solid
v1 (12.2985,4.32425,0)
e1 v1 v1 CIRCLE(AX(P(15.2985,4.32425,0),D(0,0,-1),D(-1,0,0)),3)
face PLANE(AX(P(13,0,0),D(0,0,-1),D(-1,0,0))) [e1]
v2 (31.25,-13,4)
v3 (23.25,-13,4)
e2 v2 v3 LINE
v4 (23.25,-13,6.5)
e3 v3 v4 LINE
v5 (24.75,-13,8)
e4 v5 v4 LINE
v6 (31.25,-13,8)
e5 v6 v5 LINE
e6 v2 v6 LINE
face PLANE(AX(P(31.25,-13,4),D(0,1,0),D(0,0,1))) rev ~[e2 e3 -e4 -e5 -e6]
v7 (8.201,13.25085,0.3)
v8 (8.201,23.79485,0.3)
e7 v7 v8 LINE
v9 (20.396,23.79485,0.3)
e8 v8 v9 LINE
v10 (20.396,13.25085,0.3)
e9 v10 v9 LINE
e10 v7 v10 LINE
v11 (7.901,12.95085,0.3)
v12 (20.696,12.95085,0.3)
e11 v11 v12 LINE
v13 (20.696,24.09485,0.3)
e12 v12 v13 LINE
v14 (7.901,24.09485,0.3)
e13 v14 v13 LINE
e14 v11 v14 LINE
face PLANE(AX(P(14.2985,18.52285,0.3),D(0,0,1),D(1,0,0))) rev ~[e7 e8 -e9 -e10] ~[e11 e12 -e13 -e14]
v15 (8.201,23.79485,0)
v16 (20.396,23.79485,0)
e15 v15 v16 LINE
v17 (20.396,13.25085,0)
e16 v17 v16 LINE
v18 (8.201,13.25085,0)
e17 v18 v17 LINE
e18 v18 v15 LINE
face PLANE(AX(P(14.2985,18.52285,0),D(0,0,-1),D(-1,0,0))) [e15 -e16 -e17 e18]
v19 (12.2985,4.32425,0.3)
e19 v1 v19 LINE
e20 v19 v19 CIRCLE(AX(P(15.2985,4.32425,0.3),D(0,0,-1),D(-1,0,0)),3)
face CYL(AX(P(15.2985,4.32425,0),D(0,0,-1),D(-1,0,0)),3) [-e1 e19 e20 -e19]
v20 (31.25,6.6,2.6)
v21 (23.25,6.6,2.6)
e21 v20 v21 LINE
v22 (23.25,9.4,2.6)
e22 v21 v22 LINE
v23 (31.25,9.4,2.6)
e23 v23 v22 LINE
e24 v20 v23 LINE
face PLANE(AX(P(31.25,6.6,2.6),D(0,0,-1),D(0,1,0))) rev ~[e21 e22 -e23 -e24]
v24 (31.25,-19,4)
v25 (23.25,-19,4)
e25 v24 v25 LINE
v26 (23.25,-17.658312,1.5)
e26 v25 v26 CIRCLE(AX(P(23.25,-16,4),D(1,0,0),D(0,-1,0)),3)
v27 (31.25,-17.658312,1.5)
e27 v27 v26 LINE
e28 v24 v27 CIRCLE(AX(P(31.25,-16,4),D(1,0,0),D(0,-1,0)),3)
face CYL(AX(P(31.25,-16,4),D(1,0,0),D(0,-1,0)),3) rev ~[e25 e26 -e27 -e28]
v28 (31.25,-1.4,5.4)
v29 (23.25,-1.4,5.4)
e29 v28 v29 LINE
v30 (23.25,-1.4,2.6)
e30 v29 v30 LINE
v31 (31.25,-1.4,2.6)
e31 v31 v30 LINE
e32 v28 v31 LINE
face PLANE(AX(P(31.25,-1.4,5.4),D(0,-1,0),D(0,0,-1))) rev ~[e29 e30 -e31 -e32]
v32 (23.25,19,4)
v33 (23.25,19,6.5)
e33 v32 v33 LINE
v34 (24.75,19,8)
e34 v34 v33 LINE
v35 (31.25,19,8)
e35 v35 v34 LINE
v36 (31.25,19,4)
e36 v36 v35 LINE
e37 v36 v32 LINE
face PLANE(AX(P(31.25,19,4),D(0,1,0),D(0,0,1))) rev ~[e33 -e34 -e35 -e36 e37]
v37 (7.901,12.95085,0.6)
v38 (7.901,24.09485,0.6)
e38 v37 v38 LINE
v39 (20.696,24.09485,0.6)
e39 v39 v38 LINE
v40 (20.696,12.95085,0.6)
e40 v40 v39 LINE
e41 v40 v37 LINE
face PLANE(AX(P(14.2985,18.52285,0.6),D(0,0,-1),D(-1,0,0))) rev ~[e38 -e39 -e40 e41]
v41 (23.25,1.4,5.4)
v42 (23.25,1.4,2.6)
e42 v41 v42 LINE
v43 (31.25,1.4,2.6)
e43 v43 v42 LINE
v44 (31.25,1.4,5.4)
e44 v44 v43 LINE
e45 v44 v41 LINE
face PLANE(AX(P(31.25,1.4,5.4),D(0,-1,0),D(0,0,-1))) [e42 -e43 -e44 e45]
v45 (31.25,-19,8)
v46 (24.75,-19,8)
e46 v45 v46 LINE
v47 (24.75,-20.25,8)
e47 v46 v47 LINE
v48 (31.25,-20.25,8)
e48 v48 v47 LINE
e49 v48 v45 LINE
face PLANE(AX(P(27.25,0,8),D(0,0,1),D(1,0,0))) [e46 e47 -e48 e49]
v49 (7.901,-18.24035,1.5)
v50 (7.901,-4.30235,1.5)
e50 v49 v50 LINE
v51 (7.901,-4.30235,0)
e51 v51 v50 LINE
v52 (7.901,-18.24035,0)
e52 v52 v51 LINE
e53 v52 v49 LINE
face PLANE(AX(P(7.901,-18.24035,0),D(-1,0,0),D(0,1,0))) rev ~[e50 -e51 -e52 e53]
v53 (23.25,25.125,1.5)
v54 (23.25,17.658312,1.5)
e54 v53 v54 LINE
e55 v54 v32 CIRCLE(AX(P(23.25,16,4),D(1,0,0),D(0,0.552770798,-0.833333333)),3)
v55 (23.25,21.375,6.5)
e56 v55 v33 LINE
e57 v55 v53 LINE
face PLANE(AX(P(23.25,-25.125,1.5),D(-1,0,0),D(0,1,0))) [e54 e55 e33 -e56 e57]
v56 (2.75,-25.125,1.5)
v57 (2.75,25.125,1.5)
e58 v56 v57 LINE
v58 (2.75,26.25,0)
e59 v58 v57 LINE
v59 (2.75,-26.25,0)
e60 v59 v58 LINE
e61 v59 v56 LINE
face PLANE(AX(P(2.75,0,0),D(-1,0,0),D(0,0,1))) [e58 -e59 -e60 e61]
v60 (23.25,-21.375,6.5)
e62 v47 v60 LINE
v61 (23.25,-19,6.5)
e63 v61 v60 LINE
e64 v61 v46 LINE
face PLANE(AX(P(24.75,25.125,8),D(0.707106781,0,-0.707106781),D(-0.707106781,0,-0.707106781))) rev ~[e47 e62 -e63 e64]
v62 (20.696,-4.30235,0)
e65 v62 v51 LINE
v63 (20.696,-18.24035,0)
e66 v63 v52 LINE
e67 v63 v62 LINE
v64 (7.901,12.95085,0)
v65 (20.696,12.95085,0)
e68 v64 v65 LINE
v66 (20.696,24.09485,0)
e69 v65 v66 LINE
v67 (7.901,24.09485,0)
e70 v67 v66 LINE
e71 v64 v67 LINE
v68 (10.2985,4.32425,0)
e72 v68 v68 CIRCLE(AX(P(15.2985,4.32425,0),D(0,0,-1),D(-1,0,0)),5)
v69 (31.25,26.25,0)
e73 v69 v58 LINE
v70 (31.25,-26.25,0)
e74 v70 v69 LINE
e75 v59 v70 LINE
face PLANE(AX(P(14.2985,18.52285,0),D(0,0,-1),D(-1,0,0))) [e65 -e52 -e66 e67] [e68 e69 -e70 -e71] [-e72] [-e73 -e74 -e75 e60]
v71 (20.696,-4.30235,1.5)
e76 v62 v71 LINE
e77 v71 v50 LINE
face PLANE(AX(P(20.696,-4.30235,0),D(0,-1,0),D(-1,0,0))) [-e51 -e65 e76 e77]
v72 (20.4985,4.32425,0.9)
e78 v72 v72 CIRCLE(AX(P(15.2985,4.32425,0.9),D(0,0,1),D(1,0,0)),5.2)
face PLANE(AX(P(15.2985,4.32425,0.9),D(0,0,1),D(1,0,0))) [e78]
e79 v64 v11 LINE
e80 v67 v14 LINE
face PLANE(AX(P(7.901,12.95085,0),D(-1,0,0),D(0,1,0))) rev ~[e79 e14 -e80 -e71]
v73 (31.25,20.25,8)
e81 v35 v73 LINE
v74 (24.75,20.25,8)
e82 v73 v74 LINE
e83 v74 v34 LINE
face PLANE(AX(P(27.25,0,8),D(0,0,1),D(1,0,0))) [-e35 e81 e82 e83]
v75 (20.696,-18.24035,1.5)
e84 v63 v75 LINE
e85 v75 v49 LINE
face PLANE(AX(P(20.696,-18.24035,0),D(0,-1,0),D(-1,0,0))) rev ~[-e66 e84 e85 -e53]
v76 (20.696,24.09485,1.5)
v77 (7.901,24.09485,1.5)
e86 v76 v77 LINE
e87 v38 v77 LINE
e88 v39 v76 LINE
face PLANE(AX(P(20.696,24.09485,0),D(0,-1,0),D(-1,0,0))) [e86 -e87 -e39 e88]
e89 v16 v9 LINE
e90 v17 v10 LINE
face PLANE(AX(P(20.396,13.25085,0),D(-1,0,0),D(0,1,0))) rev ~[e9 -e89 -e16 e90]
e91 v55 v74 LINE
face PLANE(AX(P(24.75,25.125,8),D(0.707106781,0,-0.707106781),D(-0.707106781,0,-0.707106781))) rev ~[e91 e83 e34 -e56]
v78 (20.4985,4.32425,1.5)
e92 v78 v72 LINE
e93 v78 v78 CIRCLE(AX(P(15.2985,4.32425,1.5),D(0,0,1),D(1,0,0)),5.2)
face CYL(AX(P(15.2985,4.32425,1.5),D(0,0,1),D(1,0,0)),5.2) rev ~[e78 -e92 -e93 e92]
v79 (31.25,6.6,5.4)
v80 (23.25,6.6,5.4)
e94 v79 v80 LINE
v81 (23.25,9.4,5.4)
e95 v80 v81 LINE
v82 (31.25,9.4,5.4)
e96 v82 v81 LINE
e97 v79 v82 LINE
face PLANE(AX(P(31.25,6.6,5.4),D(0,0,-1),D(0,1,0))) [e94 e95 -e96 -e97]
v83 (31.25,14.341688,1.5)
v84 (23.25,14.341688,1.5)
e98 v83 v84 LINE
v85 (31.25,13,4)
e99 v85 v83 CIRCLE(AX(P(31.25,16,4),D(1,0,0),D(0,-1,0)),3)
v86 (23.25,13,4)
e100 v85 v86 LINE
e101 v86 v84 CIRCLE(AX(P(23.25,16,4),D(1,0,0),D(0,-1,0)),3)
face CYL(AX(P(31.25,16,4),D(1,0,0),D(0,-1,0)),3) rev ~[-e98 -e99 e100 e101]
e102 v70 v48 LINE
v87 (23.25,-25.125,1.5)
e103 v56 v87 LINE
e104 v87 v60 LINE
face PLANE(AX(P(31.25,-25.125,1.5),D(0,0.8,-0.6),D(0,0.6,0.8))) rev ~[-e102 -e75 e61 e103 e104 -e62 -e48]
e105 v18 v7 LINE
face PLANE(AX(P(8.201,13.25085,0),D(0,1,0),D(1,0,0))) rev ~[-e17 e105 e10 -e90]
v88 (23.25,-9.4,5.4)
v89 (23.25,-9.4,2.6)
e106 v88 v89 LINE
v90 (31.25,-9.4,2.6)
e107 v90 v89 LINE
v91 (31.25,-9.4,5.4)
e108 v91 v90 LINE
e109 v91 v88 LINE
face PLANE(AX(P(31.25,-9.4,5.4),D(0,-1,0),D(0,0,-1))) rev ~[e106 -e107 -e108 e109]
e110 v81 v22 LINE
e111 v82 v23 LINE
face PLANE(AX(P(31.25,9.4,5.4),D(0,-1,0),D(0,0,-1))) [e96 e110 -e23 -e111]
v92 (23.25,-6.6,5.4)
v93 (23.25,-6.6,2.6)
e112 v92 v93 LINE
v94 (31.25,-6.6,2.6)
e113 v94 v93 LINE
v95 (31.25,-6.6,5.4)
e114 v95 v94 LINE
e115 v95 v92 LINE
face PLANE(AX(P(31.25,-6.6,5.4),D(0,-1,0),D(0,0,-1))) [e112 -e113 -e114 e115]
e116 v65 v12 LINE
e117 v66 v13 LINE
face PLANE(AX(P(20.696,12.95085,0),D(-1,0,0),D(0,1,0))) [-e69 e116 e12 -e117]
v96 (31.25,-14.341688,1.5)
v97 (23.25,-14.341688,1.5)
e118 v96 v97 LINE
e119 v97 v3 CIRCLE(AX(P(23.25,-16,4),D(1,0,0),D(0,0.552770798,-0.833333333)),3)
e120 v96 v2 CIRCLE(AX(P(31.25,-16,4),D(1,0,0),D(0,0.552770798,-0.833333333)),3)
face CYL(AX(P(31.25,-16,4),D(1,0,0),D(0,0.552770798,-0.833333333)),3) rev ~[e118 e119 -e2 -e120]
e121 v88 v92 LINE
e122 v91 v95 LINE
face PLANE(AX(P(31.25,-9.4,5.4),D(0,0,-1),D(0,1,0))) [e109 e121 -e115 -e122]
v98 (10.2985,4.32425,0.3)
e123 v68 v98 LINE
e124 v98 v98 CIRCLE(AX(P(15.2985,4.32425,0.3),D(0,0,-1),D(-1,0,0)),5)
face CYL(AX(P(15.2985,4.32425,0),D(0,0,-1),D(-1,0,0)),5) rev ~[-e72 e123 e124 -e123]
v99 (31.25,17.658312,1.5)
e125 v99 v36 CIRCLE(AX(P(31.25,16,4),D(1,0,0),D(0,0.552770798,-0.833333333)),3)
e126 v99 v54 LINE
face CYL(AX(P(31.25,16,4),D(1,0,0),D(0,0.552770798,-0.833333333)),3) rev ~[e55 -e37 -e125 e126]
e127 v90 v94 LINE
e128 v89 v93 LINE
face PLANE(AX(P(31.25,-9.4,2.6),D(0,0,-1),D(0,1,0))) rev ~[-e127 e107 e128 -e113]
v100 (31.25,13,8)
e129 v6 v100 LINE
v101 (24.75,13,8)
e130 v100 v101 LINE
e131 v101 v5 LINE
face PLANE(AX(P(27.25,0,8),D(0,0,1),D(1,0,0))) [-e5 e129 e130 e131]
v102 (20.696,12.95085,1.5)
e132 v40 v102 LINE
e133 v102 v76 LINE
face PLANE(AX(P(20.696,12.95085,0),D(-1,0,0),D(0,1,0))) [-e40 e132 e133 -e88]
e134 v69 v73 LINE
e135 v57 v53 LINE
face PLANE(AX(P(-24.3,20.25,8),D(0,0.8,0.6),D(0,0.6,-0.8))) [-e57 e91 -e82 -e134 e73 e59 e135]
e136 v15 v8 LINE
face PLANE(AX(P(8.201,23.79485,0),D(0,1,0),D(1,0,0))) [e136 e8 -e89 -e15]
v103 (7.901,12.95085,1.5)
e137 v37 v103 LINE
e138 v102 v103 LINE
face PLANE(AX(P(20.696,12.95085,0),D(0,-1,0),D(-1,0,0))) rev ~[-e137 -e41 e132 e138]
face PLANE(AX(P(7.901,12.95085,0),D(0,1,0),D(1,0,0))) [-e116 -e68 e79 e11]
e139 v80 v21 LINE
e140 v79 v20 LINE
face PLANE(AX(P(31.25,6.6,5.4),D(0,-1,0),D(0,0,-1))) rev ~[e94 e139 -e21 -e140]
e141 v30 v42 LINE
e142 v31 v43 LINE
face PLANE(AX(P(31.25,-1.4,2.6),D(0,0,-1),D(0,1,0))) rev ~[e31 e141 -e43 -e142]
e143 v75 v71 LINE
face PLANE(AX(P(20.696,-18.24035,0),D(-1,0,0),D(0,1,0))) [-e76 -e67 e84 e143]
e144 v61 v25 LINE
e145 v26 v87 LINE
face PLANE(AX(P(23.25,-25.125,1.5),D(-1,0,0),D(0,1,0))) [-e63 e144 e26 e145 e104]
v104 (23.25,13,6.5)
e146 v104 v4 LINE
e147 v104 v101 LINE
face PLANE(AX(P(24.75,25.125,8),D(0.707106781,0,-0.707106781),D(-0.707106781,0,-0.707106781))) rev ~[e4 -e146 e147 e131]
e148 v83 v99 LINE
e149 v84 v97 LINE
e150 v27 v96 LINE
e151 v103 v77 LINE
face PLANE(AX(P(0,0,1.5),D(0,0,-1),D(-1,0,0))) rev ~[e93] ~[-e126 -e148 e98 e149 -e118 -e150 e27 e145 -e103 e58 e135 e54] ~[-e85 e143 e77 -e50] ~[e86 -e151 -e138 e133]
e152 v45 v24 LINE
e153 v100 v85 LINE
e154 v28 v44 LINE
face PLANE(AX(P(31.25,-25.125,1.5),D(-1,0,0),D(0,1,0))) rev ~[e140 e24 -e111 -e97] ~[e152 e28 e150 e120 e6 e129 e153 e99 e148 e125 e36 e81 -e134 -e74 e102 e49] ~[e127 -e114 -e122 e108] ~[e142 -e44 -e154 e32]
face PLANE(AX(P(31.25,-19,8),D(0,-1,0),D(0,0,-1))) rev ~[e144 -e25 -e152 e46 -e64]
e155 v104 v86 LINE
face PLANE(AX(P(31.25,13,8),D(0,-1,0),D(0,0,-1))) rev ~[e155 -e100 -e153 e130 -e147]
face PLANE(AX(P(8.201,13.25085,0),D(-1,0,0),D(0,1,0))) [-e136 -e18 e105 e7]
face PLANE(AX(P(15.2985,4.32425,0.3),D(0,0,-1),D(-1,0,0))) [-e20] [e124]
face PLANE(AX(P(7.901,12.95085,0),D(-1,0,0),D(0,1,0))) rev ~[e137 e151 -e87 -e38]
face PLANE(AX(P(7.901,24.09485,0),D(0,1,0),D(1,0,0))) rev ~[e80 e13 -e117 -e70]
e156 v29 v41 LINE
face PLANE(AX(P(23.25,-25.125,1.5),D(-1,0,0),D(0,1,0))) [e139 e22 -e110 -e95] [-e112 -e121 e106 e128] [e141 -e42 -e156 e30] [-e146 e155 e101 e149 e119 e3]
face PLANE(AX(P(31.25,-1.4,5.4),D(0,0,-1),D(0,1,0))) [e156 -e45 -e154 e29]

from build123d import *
from build123d.topology import SkipClean

# Parameters (mm, degrees)
ESBO_O1_R                 = 8.3
RESSALTO_EXTRUS_O1_DEPTH  = 1.5
RESSALTO_EXTRUS_O2_DEPTH  = 6
ESBO_O3_W                 = 2.8
ESBO_O3_H                 = 2.8
CORTE_EXTRUS_O1_DEPTH     = 37.142080737
ESBO_O4_W                 = 2.8
ESBO_O4_H                 = 2.8
CORTE_EXTRUS_O2_DEPTH     = 53.08166664
ESBO_O6_W                 = 5
ESBO_O6_H                 = 25
RESSALTO_EXTRUS_O5_DEPTH  = 7.5
ESBO_O7_W                 = 2.8
ESBO_O7_H                 = 2.8
CORTE_EXTRUS_O3_DEPTH     = 60
RESSALTO_EXTRUS_O3_DEPTH  = 10
ESBO_O8_W                 = 60
ESBO_O8_H                 = 52.5
ESBO_O8_R                 = 8.3
RESSALTO_EXTRUS_O6_DEPTH  = 1.5
CORTE_EXTRUS_O4_DEPTH     = 42.098205557
RESSALTO_EXTRUS_O7_DEPTH  = 6.5
ESBO_O14_W                = 5.7
ESBO_O14_H                = 52.5
CORTE_EXTRUS_O8_DEPTH     = 4.5
CORTE_EXTRUS_O9_DEPTH     = 41.657871317
CORTE_EXTRUS_O13_DEPTH    = 6.25
CORTE_EXTRUS_O14_DEPTH    = 6.25
ESBO_O12_R                = 1.65
CORTE_EXTRUS_O15_DEPTH    = 4.5
CORTE_EXTRUS_O17_DEPTH    = 62.398717413
ESBO_O20_R                = 3.5
CORTE_EXTRUS_O18_DEPTH    = 5
RESSALTO_EXTRUS_O8_START  = 2.95
ESBO_O21_R                = 1.65
RESSALTO_EXTRUS_O8_DEPTH  = 2.95
ESBO_O22_W                = 2.8
ESBO_O22_H                = 2.8
RESSALTO_EXTRUS_O9_DEPTH  = 1.25
CORTE_EXTRUS_O19_DEPTH    = 6
ESBO_O24_W                = 8
ESBO_O24_H                = 50.25
RESSALTO_EXTRUS_O10_DEPTH = 6.5
CORTE_EXTRUS_O20_DEPTH    = 62.222570389
CORTE_EXTRUS_O21_REACH    = 67.143
ESBO_O26_W                = 2.8
ESBO_O26_H                = 2.8
CORTE_EXTRUS_O22_REACH    = 67.143
CORTE_EXTRUS_O23_DEPTH    = 6.5
CORTE_EXTRUS_O24_DEPTH    = 6.5
CORTE_EXTRUS_O25_START    = -6.5
CORTE_EXTRUS_O25_DEPTH    = 6.5
CORTE_EXTRUS_O26_DEPTH    = 4.95
ESBO_O33_R                = 9.3
CORTE_EXTRUS_O27_DEPTH    = 43.019340785
ESBO_O34_R                = 8.3
RESSALTO_EXTRUS_O11_DEPTH = 1.5
ESBO_O49_R                = 41.403192139
CORTE_EXTRUS_O37_DEPTH    = 28.5
ESBO_O50_W                = 12.795
ESBO_O50_H                = 13.938
ESBO_O50_H_2              = 11.144
CORTE_EXTRUS_O38_DEPTH    = 42.588760501
ESBO_O51_R                = 5.2
CORTE_EXTRUS_O39_DEPTH    = 0.6
ESBO_O52_R                = 31.470560184
CORTE_EXTRUS_O40_DEPTH    = 1.5
ESBO_O54_R                = 5
ESBO_O54_R_2              = 3
CORTE_EXTRUS_O41_DEPTH    = 0.3
ESBO_O56_W                = 12.795
ESBO_O56_H                = 11.144
RESSALTO_EXTRUS_O13_DEPTH = 0.6
ESBO_O57_W                = 12.795
ESBO_O57_H                = 11.144
ESBO_O57_W_2              = 12.195
ESBO_O57_H_2              = 10.544
CORTE_EXTRUS_O44_DEPTH    = 0.3


with BuildPart() as part:
    # Esboço1 → Ressalto-extrusão1 (new body)
    with BuildSketch(Plane.XY):
        Polygon((-25, -12.5), (-25, 12.5), (25, 12.5), (25, -12.5), (15, -12.5), (-15, -12.5), align=None)
        with Locations((-13, 0)):
            Circle(ESBO_O1_R, mode=Mode.SUBTRACT)
        with Locations(Location((13, 0, 0), (0, 0, 180))):
            Circle(ESBO_O1_R, mode=Mode.SUBTRACT)
    extrude(amount=RESSALTO_EXTRUS_O1_DEPTH)

    # Esboço2 → Ressalto-extrusão2 (add)
    with BuildSketch(Plane.XY.offset(1.5)):
        Polygon((-20, -12.5), (-25, -12.5), (-25, -2.5), (-22, -2.5), (-22, -9.5), (-15, -9.5), (-15, -12.5), align=None)
        Polygon((22, -2.5), (22, -9.5), (15, -9.5), (15, -12.5), (20, -12.5), (25, -12.5), (25, -2.5), align=None)
        Polygon((20, 12.5), (25, 12.5), (25, 2.5), (22, 2.5), (22, 9.5), (15, 9.5), (15, 12.5), align=None)
        Polygon((-22, 2.5), (-22, 9.5), (-15, 9.5), (-15, 12.5), (-20, 12.5), (-25, 12.5), (-25, 2.5), align=None)
    extrude(amount=RESSALTO_EXTRUS_O2_DEPTH)

    # Esboço3 → Corte-extrusão1 (cut, through all)
    with BuildSketch(Plane.XZ.offset(12.5)):
        with Locations((-20, 3.75)):
            Rectangle(ESBO_O3_W, ESBO_O3_H)
        with Locations((20, 3.75)):
            Rectangle(ESBO_O3_W, ESBO_O3_H)
    extrude(amount=-CORTE_EXTRUS_O1_DEPTH, mode=Mode.SUBTRACT)

    # Esboço4 → Corte-extrusão2 (cut, through all)
    with BuildSketch(Plane.ZY.offset(25)):
        with Locations((3.75, 7.5)):
            Rectangle(ESBO_O4_W, ESBO_O4_H)
        with Locations((3.75, -7.5)):
            Rectangle(ESBO_O4_W, ESBO_O4_H)
    extrude(amount=-CORTE_EXTRUS_O2_DEPTH, mode=Mode.SUBTRACT)

    # Esboço6 → Ressalto-extrusão5 (add)
    with BuildSketch(Plane(origin=(0, 0, 0), x_dir=(-1, 0, 0), z_dir=(0, 0, -1))):
        with Locations((-27.5, 0)):
            Rectangle(ESBO_O6_W, ESBO_O6_H)
        with Locations((27.5, 0)):
            Rectangle(ESBO_O6_W, ESBO_O6_H)
    extrude(amount=-RESSALTO_EXTRUS_O5_DEPTH)

    # Esboço7 → Corte-extrusão3 (cut)
    with BuildSketch(Plane(origin=(30, 0, 0), x_dir=(0, 0, -1), z_dir=(1, 0, 0))):
        with Locations((-3.75, -7.5)):
            Rectangle(ESBO_O7_W, ESBO_O7_H)
        with Locations((-3.75, 7.5)):
            Rectangle(ESBO_O7_W, ESBO_O7_H)
    extrude(amount=-CORTE_EXTRUS_O3_DEPTH, mode=Mode.SUBTRACT)

    # Esboço5 → Ressalto-extrusão3 (add)
    with SkipClean():  # the faces are left unmerged after this step: merging them gives an invalid solid
        with BuildSketch(Plane.XY.offset(1.5)):
            with BuildLine():
                Line((-9, -7.272551134), (-9, -8.395832299))
                ThreePointArc((-9, -8.395832299), (-3.7, 0), (-9, 8.395832299))
                Line((-9, 8.395832299), (-9, 7.272551134))
                ThreePointArc((-9, 7.272551134), (-4.7, 0), (-9, -7.272551134))
            make_face()
            with BuildLine():
                Line((-17, -7.272551134), (-17, -8.395832299))
                ThreePointArc((-17, -8.395832299), (-22.3, 0), (-17, 8.395832299))
                Line((-17, 8.395832299), (-17, 7.272551134))
                ThreePointArc((-17, 7.272551134), (-21.3, 0), (-17, -7.272551134))
            make_face()
            with BuildLine():
                Line((9, -7.272551134), (9, -8.395832299))
                ThreePointArc((9, -8.395832299), (3.7, 0), (9, 8.395832299))
                Line((9, 8.395832299), (9, 7.272551134))
                ThreePointArc((9, 7.272551134), (4.7, 0), (9, -7.272551134))
            make_face()
            with BuildLine():
                Line((17, 8.395832299), (17, 7.272551134))
                ThreePointArc((17, 7.272551134), (21.3, 0), (17, -7.272551134))
                Line((17, -7.272551134), (17, -8.395832299))
                ThreePointArc((17, -8.395832299), (22.3, 0), (17, 8.395832299))
            make_face()
        extrude(amount=RESSALTO_EXTRUS_O3_DEPTH)

    # Esboço8 → Ressalto-extrusão6 (add)
    with SkipClean():  # the faces are left unmerged after this step: merging them gives an invalid solid
        with BuildSketch(Plane(origin=(0, 0, 0), x_dir=(-1, 0, 0), z_dir=(0, 0, -1))):
            Rectangle(ESBO_O8_W, ESBO_O8_H)
            with Locations(Location((13, 0, 0), (0, 0, 298.811379709))):
                Circle(ESBO_O8_R, mode=Mode.SUBTRACT)
            with Locations((-13, 0)):
                Circle(ESBO_O8_R, mode=Mode.SUBTRACT)
        extrude(amount=-RESSALTO_EXTRUS_O6_DEPTH)

    # Esboço9 → Corte-extrusão4 (cut, through all)
    with SkipClean():  # the faces are left unmerged after this step: merging them gives an invalid solid
        with BuildSketch(Plane.XY.offset(1.5)):
            Polygon((-15, -12.5), (-15, -9.5), (-22, -9.5), (-22, -2.5), (-25, -2.5), (-25, 2.5), (-22, 2.5), (-22, 9.5), (-15, 9.5), (-15, 12.5), (-30, 12.5), (-30, -12.5), align=None)
        extrude(amount=CORTE_EXTRUS_O4_DEPTH, mode=Mode.SUBTRACT)

    # Esboço10 → Ressalto-extrusão7 (add)
    with SkipClean():  # the faces are left unmerged after this step: merging them gives an invalid solid
        with BuildSketch(Plane.XY.offset(1.5)):
            Polygon((-24.3, -26.25), (-24.3, 26.25), (-22.3, 26.25), (-17.3, 26.25), (-17.3, 20), (-22.3, 20), (-22.3, 12), (-17.3, 12), (-17.3, -12), (-22.3, -12), (-22.3, -20), (-17.3, -20), (-17.3, -26.25), (-22.3, -26.25), align=None)
        extrude(amount=RESSALTO_EXTRUS_O7_DEPTH)

    # Esboço14 → Corte-extrusão8 (cut)
    with SkipClean():  # the faces are left unmerged after this step: merging them gives an invalid solid
        with BuildSketch(Plane.XY.offset(1.5)):
            with Locations((-27.15, 0)):
                Rectangle(ESBO_O14_W, ESBO_O14_H)
        extrude(amount=-CORTE_EXTRUS_O8_DEPTH, mode=Mode.SUBTRACT)

    # Esboço15 → Corte-extrusão9 (cut, through all)
    with SkipClean():  # the faces are left unmerged after this step: merging them gives an invalid solid
        with BuildSketch(Plane.XY.offset(8)):
            with BuildLine():
                Line((-17.3, -7.09929574), (-17.3, 7.09929574))
                ThreePointArc((-17.3, 7.09929574), (-21.3, 0), (-17.3, -7.09929574))
            make_face()
        extrude(amount=-CORTE_EXTRUS_O9_DEPTH, mode=Mode.SUBTRACT)

    # Esboço11 → Corte-extrusão13 (cut)
    with SkipClean():  # the faces are left unmerged after this step: merging them gives an invalid solid
        with BuildSketch(Plane.XZ.offset(26.25)):
            Polygon((-22.3, 8), (-17.3, 8), (-17.3, 1.5), align=None)
        extrude(amount=-CORTE_EXTRUS_O13_DEPTH, mode=Mode.SUBTRACT)

    # Esboço17 → Corte-extrusão14 (cut)
    with SkipClean():  # the faces are left unmerged after this step: merging them gives an invalid solid
        with BuildSketch(Plane(origin=(0, 26.25, 0), x_dir=(1, 0, 0), z_dir=(0, 1, 0))):
            Polygon((-17.3, -1.5), (-17.3, -8), (-22.3, -8), align=None)
        extrude(amount=-CORTE_EXTRUS_O14_DEPTH, mode=Mode.SUBTRACT)

    # Esboço12 → Corte-extrusão15 (cut)
    with SkipClean():  # the faces are left unmerged after this step: merging them gives an invalid solid
        with BuildSketch(Plane.ZY.offset(24.3)):
            with Locations(Location((4, 16, 0), (0, 0, 270))):
                Circle(ESBO_O12_R)
            with Locations((4, -16)):
                Circle(ESBO_O12_R)
        extrude(amount=-CORTE_EXTRUS_O15_DEPTH, mode=Mode.SUBTRACT)

    # Esboço19 → Corte-extrusão17 (cut, through all)
    with SkipClean():  # the faces are left unmerged after this step: merging them gives an invalid solid
        with BuildSketch(Plane.ZY.offset(24.3)):
            Polygon((0, 26.25), (8, 26.25), (8, 20.25), align=None)
            Polygon((8, -20.25), (0, -26.25), (8, -26.25), align=None)
        extrude(amount=-CORTE_EXTRUS_O17_DEPTH, mode=Mode.SUBTRACT)

    # Esboço20 → Corte-extrusão18 (cut)
    with SkipClean():  # the faces are left unmerged after this step: merging them gives an invalid solid
        with BuildSketch(Plane(origin=(-22.3, 0, 0), x_dir=(0, 0, -1), z_dir=(1, 0, 0))):
            with Locations((-4, -16)):
                Circle(ESBO_O20_R)
            with Locations((-4, 16)):
                Circle(ESBO_O20_R)
        extrude(amount=CORTE_EXTRUS_O18_DEPTH, mode=Mode.SUBTRACT)

    # Esboço21 → Ressalto-extrusão8 (add)
    with SkipClean():  # the faces are left unmerged after this step: merging them gives an invalid solid
        with BuildSketch(Plane.ZY.offset(24.3).offset(RESSALTO_EXTRUS_O8_START)):
            Polygon((0, 26.25), (0, -26.25), (8, -20.25), (8, 20.25), align=None)
            with Locations(Location((4, -16, 0), (0, 0, 270))):
                Circle(ESBO_O21_R, mode=Mode.SUBTRACT)
            with Locations(Location((4, 16, 0), (0, 0, 270))):
                Circle(ESBO_O21_R, mode=Mode.SUBTRACT)
        extrude(amount=-RESSALTO_EXTRUS_O8_DEPTH)

    # Esboço22 → Ressalto-extrusão9 (add)
    with SkipClean():  # the faces are left unmerged after this step: merging them gives an invalid solid
        with BuildSketch(Plane(origin=(30, 0, 0), x_dir=(0, 0, -1), z_dir=(1, 0, 0))):
            Polygon((-1.5, -25.125), (0, -26.25), (0, 26.25), (-1.5, 25.125), (-1.5, 12.5), (-7.5, 12.5), (-7.5, -12.5), (-1.5, -12.5), align=None)
            with Locations((-3.75, -7.5)):
                Rectangle(ESBO_O22_W, ESBO_O22_H, mode=Mode.SUBTRACT)
            with Locations((-3.75, 7.5)):
                Rectangle(ESBO_O22_W, ESBO_O22_H, mode=Mode.SUBTRACT)
        extrude(amount=RESSALTO_EXTRUS_O9_DEPTH)

    # Esboço23 → Corte-extrusão19 (cut)
    with SkipClean():  # the faces are left unmerged after this step: merging them gives an invalid solid
        with BuildSketch(Plane.XY.offset(7.5)):
            Polygon((25, -2.5), (22, -2.5), (22, -9.5), (15, -9.5), (15, -12.5), (31.25, -12.5), (31.25, 12.5), (15, 12.5), (15, 9.5), (22, 9.5), (22, 2.5), (25, 2.5), align=None)
        extrude(amount=-CORTE_EXTRUS_O19_DEPTH, mode=Mode.SUBTRACT)

    # Esboço24 → Ressalto-extrusão10 (add)
    with SkipClean():  # the faces are left unmerged after this step: merging them gives an invalid solid
        with BuildSketch(Plane.XY.offset(1.5)):
            with Locations((27.25, 0)):
                Rectangle(ESBO_O24_W, ESBO_O24_H)
        extrude(amount=RESSALTO_EXTRUS_O10_DEPTH)

    # Esboço25 → Corte-extrusão20 (cut, through all)
    with SkipClean():  # the faces are left unmerged after this step: merging them gives an invalid solid
        with BuildSketch(Plane(origin=(0, 25.125, 0), x_dir=(1, 0, 0), z_dir=(0, 1, 0))):
            Polygon((23.25, -6.5), (23.25, -8), (24.75, -8), align=None)
        extrude(amount=-CORTE_EXTRUS_O20_DEPTH, mode=Mode.SUBTRACT)

    # Esboço26 → Corte-extrusão21 (cut, up to next)
    with BuildSketch(Plane(origin=(31.25, 0, 0), x_dir=(0, 0, -1), z_dir=(1, 0, 0)), mode=Mode.PRIVATE) as corte_extrus_o21_sk1:
        with Locations((-4, 0)):
            Rectangle(ESBO_O26_W, ESBO_O26_H)
    corte_extrus_o21_tool1 = extrude(corte_extrus_o21_sk1.sketch, amount=-CORTE_EXTRUS_O21_REACH, mode=Mode.PRIVATE) & part.part
    # Esboço26 → Corte-extrusão21 (cut, up to next)
    with BuildSketch(Plane(origin=(31.25, 0, 0), x_dir=(0, 0, -1), z_dir=(1, 0, 0)), mode=Mode.PRIVATE) as corte_extrus_o21_sk2:
        with Locations((-4, -8)):
            Rectangle(ESBO_O26_W, ESBO_O26_H)
    corte_extrus_o21_tool2 = extrude(corte_extrus_o21_sk2.sketch, amount=-CORTE_EXTRUS_O21_REACH, mode=Mode.PRIVATE) & part.part
    # Esboço26 → Corte-extrusão21 (cut, up to next)
    with BuildSketch(Plane(origin=(31.25, 0, 0), x_dir=(0, 0, -1), z_dir=(1, 0, 0)), mode=Mode.PRIVATE) as corte_extrus_o21_sk3:
        with Locations((-4, 8)):
            Rectangle(ESBO_O26_W, ESBO_O26_H)
    corte_extrus_o21_tool3 = extrude(corte_extrus_o21_sk3.sketch, amount=-CORTE_EXTRUS_O21_REACH, mode=Mode.PRIVATE) & part.part
    add(corte_extrus_o21_tool1.solids().sort_by_distance((31.25, 0, 4))[0], mode=Mode.SUBTRACT)
    add(corte_extrus_o21_tool2.solids().sort_by_distance((31.25, -8, 4))[0], mode=Mode.SUBTRACT)
    add(corte_extrus_o21_tool3.solids().sort_by_distance((31.25, 8, 4))[0], mode=Mode.SUBTRACT)

    # Esboço27 → Corte-extrusão22 (cut, up to next)
    with BuildSketch(Plane(origin=(31.25, 0, 0), x_dir=(0, 0, -1), z_dir=(1, 0, 0)), mode=Mode.PRIVATE) as corte_extrus_o22_sk1:
        with BuildLine():
            Line((-4, 19), (-8, 19))
            Line((-8, 19), (-8, 13))
            Line((-8, 13), (-4, 13))
            ThreePointArc((-4, 13), (-2.581362835, 13.356617963), (-1.5, 14.341687605))
            Line((-1.5, 14.341687605), (-1.5, 17.658312395))
            ThreePointArc((-1.5, 17.658312395), (-2.581362835, 18.643382037), (-4, 19))
        make_face()
    corte_extrus_o22_tool1 = extrude(corte_extrus_o22_sk1.sketch, amount=-CORTE_EXTRUS_O22_REACH, mode=Mode.PRIVATE) & part.part
    # Esboço27 → Corte-extrusão22 (cut, up to next)
    with BuildSketch(Plane(origin=(31.25, 0, 0), x_dir=(0, 0, -1), z_dir=(1, 0, 0)), mode=Mode.PRIVATE) as corte_extrus_o22_sk2:
        Polygon((-8, -20.25), (-8, -25.125), (-1.5, -25.125), align=None)
    corte_extrus_o22_tool2 = extrude(corte_extrus_o22_sk2.sketch, amount=-CORTE_EXTRUS_O22_REACH, mode=Mode.PRIVATE) & part.part
    # Esboço27 → Corte-extrusão22 (cut, up to next)
    with BuildSketch(Plane(origin=(31.25, 0, 0), x_dir=(0, 0, -1), z_dir=(1, 0, 0)), mode=Mode.PRIVATE) as corte_extrus_o22_sk3:
        Polygon((-8, 25.125), (-8, 20.25), (-1.5, 25.125), align=None)
    corte_extrus_o22_tool3 = extrude(corte_extrus_o22_sk3.sketch, amount=-CORTE_EXTRUS_O22_REACH, mode=Mode.PRIVATE) & part.part
    # Esboço27 → Corte-extrusão22 (cut, up to next)
    with BuildSketch(Plane(origin=(31.25, 0, 0), x_dir=(0, 0, -1), z_dir=(1, 0, 0)), mode=Mode.PRIVATE) as corte_extrus_o22_sk4:
        with BuildLine():
            Line((-4, -13), (-8, -13))
            Line((-8, -13), (-8, -19))
            Line((-8, -19), (-4, -19))
            ThreePointArc((-4, -19), (-2.581362835, -18.643382037), (-1.5, -17.658312395))
            Line((-1.5, -17.658312395), (-1.5, -14.341687605))
            ThreePointArc((-1.5, -14.341687605), (-2.581362835, -13.356617963), (-4, -13))
        make_face()
    corte_extrus_o22_tool4 = extrude(corte_extrus_o22_sk4.sketch, amount=-CORTE_EXTRUS_O22_REACH, mode=Mode.PRIVATE) & part.part
    add(corte_extrus_o22_tool1.solids().sort_by_distance((31.25, 16, 4.892695))[0], mode=Mode.SUBTRACT)
    add(corte_extrus_o22_tool2.solids().sort_by_distance((31.25, -23.5, 5.833333))[0], mode=Mode.SUBTRACT)
    add(corte_extrus_o22_tool3.solids().sort_by_distance((31.25, 23.5, 5.833333))[0], mode=Mode.SUBTRACT)
    add(corte_extrus_o22_tool4.solids().sort_by_distance((31.25, -16, 4.892695))[0], mode=Mode.SUBTRACT)

    # Esboço28 → Corte-extrusão23 (cut)
    with SkipClean():  # the faces are left unmerged after this step: merging them gives an invalid solid
        with BuildSketch(Plane.XY.offset(8)):
            with BuildLine():
                Line((-27.25, 12), (-27.25, -12))
                Line((-27.25, -12), (-24.8, -12))
                ThreePointArc((-24.8, -12), (-23.032233047, -11.267766953), (-22.3, -9.5))
                Line((-22.3, -9.5), (-22.3, 9.5))
                ThreePointArc((-22.3, 9.5), (-23.032233047, 11.267766953), (-24.8, 12))
                Line((-24.8, 12), (-27.25, 12))
            make_face()
        extrude(amount=-CORTE_EXTRUS_O23_DEPTH, mode=Mode.SUBTRACT)

    # Esboço29 → Corte-extrusão24 (cut)
    with SkipClean():  # the faces are left unmerged after this step: merging them gives an invalid solid
        with BuildSketch(Plane.XY.offset(8)):
            with BuildLine():
                Line((-19.8, -12), (-19.8, -12.44923286))
                Line((-19.8, -12.44923286), (-19.8, -14.139655276))
                Line((-19.8, -14.139655276), (-15.225886581, -14.139655276))
                Line((-15.225886581, -14.139655276), (-15.225886581, -9.5))
                Line((-15.225886581, -9.5), (-17.3, -9.5))
                ThreePointArc((-17.3, -9.5), (-18.032233047, -11.267766953), (-19.8, -12))
            make_face()
            with BuildLine():
                Line((-19.8, 12), (-19.8, 12.907103379))
                Line((-19.8, 12.907103379), (-15.750500434, 12.907103379))
                Line((-15.750500434, 12.907103379), (-15.750500434, 9.5))
                Line((-15.750500434, 9.5), (-17.3, 9.5))
                ThreePointArc((-17.3, 9.5), (-18.032233047, 11.267766953), (-19.8, 12))
            make_face()
        extrude(amount=-CORTE_EXTRUS_O24_DEPTH, mode=Mode.SUBTRACT)

    # Esboço30 → Corte-extrusão25 (cut)
    with SkipClean():  # the faces are left unmerged after this step: merging them gives an invalid solid
        with BuildSketch(Plane.XY.offset(8).offset(CORTE_EXTRUS_O25_START)):
            with BuildLine():
                Line((-27.25, 12), (-17, 12))
                Line((-17, 12), (-17, 8.395832299))
                ThreePointArc((-17, 8.395832299), (-22.3, 0), (-17, -8.395832299))
                Line((-17, -8.395832299), (-17, -12))
                Line((-17, -12), (-27.25, -12))
                Line((-27.25, -12), (-27.25, 12))
            make_face()
        extrude(amount=CORTE_EXTRUS_O25_DEPTH, mode=Mode.SUBTRACT)

    # Esboço31 → Corte-extrusão26 (cut)
    with SkipClean():  # the faces are left unmerged after this step: merging them gives an invalid solid
        with BuildSketch(Plane.ZY.offset(27.25)):
            with BuildLine():
                Line((5.5, -12), (8, -12))
                Line((8, -12), (8, -14.5))
                ThreePointArc((8, -14.5), (7.267766953, -12.732233047), (5.5, -12))
            make_face()
            with BuildLine():
                Line((5.5, 12), (8, 12))
                Line((8, 12), (8, 14.5))
                ThreePointArc((8, 14.5), (7.267766953, 12.732233047), (5.5, 12))
            make_face()
        extrude(amount=-CORTE_EXTRUS_O26_DEPTH, mode=Mode.SUBTRACT)

    # Esboço33 → Corte-extrusão27 (cut, through all)
    with BuildSketch(Plane.XY.offset(1.5)):
        with Locations((13, 0)):
            Circle(ESBO_O33_R)
        with Locations((-13, 0)):
            Circle(ESBO_O33_R)
    extrude(amount=CORTE_EXTRUS_O27_DEPTH, mode=Mode.SUBTRACT)

    # Esboço34 → Ressalto-extrusão11 (add)
    with BuildSketch(Plane(origin=(0, 0, 0), x_dir=(-1, 0, 0), z_dir=(0, 0, -1))):
        with Locations((-13, 0)):
            Circle(ESBO_O34_R)
        with Locations((13, 0)):
            Circle(ESBO_O34_R)
    extrude(amount=-RESSALTO_EXTRUS_O11_DEPTH)

    # Esboço49 → Corte-extrusão37 (cut)
    with BuildSketch(Plane.ZY.offset(27.25)):
        Circle(ESBO_O49_R)
    extrude(amount=-CORTE_EXTRUS_O37_DEPTH, mode=Mode.SUBTRACT)

    # Esboço50 → Corte-extrusão38 (cut, through all)
    with BuildSketch(Plane(origin=(0, 0, 0), x_dir=(-1, 0, 0), z_dir=(0, 0, -1))):
        with Locations((-14.2985, -11.271349979)):
            Rectangle(ESBO_O50_W, ESBO_O50_H)
        with Locations((-14.2985, 18.522850021)):
            Rectangle(ESBO_O50_W, ESBO_O50_H_2)
    extrude(amount=-CORTE_EXTRUS_O38_DEPTH, mode=Mode.SUBTRACT)

    # Esboço51 → Corte-extrusão39 (cut)
    with BuildSketch(Plane.XY.offset(1.5)):
        with Locations((15.2985, 4.324250021)):
            Circle(ESBO_O51_R)
    extrude(amount=-CORTE_EXTRUS_O39_DEPTH, mode=Mode.SUBTRACT)

    # Esboço52 → Corte-extrusão40 (cut)
    with BuildSketch(Plane.ZY.offset(-1.25)):
        Circle(ESBO_O52_R)
    extrude(amount=-CORTE_EXTRUS_O40_DEPTH, mode=Mode.SUBTRACT)

    # Esboço54 → Corte-extrusão41 (cut)
    with BuildSketch(Plane(origin=(0, 0, 0), x_dir=(-1, 0, 0), z_dir=(0, 0, -1))):
        with Locations((-15.2985, 4.324250021)):
            Circle(ESBO_O54_R)
        with Locations((-15.2985, 4.324250021)):
            Circle(ESBO_O54_R_2, mode=Mode.SUBTRACT)
    extrude(amount=-CORTE_EXTRUS_O41_DEPTH, mode=Mode.SUBTRACT)

    # Esboço56 → Ressalto-extrusão13 (add)
    with BuildSketch(Plane(origin=(0, 0, 0), x_dir=(-1, 0, 0), z_dir=(0, 0, -1))):
        with Locations((-14.2985, 18.522850021)):
            Rectangle(ESBO_O56_W, ESBO_O56_H)
    extrude(amount=-RESSALTO_EXTRUS_O13_DEPTH)

    # Esboço57 → Corte-extrusão44 (cut)
    with BuildSketch(Plane.XY):
        with Locations((14.2985, 18.522850021)):
            Rectangle(ESBO_O57_W, ESBO_O57_H)
        with Locations((14.2985, 18.522850021)):
            Rectangle(ESBO_O57_W_2, ESBO_O57_H_2, mode=Mode.SUBTRACT)
    extrude(amount=CORTE_EXTRUS_O44_DEPTH, mode=Mode.SUBTRACT)


solid = part.part
